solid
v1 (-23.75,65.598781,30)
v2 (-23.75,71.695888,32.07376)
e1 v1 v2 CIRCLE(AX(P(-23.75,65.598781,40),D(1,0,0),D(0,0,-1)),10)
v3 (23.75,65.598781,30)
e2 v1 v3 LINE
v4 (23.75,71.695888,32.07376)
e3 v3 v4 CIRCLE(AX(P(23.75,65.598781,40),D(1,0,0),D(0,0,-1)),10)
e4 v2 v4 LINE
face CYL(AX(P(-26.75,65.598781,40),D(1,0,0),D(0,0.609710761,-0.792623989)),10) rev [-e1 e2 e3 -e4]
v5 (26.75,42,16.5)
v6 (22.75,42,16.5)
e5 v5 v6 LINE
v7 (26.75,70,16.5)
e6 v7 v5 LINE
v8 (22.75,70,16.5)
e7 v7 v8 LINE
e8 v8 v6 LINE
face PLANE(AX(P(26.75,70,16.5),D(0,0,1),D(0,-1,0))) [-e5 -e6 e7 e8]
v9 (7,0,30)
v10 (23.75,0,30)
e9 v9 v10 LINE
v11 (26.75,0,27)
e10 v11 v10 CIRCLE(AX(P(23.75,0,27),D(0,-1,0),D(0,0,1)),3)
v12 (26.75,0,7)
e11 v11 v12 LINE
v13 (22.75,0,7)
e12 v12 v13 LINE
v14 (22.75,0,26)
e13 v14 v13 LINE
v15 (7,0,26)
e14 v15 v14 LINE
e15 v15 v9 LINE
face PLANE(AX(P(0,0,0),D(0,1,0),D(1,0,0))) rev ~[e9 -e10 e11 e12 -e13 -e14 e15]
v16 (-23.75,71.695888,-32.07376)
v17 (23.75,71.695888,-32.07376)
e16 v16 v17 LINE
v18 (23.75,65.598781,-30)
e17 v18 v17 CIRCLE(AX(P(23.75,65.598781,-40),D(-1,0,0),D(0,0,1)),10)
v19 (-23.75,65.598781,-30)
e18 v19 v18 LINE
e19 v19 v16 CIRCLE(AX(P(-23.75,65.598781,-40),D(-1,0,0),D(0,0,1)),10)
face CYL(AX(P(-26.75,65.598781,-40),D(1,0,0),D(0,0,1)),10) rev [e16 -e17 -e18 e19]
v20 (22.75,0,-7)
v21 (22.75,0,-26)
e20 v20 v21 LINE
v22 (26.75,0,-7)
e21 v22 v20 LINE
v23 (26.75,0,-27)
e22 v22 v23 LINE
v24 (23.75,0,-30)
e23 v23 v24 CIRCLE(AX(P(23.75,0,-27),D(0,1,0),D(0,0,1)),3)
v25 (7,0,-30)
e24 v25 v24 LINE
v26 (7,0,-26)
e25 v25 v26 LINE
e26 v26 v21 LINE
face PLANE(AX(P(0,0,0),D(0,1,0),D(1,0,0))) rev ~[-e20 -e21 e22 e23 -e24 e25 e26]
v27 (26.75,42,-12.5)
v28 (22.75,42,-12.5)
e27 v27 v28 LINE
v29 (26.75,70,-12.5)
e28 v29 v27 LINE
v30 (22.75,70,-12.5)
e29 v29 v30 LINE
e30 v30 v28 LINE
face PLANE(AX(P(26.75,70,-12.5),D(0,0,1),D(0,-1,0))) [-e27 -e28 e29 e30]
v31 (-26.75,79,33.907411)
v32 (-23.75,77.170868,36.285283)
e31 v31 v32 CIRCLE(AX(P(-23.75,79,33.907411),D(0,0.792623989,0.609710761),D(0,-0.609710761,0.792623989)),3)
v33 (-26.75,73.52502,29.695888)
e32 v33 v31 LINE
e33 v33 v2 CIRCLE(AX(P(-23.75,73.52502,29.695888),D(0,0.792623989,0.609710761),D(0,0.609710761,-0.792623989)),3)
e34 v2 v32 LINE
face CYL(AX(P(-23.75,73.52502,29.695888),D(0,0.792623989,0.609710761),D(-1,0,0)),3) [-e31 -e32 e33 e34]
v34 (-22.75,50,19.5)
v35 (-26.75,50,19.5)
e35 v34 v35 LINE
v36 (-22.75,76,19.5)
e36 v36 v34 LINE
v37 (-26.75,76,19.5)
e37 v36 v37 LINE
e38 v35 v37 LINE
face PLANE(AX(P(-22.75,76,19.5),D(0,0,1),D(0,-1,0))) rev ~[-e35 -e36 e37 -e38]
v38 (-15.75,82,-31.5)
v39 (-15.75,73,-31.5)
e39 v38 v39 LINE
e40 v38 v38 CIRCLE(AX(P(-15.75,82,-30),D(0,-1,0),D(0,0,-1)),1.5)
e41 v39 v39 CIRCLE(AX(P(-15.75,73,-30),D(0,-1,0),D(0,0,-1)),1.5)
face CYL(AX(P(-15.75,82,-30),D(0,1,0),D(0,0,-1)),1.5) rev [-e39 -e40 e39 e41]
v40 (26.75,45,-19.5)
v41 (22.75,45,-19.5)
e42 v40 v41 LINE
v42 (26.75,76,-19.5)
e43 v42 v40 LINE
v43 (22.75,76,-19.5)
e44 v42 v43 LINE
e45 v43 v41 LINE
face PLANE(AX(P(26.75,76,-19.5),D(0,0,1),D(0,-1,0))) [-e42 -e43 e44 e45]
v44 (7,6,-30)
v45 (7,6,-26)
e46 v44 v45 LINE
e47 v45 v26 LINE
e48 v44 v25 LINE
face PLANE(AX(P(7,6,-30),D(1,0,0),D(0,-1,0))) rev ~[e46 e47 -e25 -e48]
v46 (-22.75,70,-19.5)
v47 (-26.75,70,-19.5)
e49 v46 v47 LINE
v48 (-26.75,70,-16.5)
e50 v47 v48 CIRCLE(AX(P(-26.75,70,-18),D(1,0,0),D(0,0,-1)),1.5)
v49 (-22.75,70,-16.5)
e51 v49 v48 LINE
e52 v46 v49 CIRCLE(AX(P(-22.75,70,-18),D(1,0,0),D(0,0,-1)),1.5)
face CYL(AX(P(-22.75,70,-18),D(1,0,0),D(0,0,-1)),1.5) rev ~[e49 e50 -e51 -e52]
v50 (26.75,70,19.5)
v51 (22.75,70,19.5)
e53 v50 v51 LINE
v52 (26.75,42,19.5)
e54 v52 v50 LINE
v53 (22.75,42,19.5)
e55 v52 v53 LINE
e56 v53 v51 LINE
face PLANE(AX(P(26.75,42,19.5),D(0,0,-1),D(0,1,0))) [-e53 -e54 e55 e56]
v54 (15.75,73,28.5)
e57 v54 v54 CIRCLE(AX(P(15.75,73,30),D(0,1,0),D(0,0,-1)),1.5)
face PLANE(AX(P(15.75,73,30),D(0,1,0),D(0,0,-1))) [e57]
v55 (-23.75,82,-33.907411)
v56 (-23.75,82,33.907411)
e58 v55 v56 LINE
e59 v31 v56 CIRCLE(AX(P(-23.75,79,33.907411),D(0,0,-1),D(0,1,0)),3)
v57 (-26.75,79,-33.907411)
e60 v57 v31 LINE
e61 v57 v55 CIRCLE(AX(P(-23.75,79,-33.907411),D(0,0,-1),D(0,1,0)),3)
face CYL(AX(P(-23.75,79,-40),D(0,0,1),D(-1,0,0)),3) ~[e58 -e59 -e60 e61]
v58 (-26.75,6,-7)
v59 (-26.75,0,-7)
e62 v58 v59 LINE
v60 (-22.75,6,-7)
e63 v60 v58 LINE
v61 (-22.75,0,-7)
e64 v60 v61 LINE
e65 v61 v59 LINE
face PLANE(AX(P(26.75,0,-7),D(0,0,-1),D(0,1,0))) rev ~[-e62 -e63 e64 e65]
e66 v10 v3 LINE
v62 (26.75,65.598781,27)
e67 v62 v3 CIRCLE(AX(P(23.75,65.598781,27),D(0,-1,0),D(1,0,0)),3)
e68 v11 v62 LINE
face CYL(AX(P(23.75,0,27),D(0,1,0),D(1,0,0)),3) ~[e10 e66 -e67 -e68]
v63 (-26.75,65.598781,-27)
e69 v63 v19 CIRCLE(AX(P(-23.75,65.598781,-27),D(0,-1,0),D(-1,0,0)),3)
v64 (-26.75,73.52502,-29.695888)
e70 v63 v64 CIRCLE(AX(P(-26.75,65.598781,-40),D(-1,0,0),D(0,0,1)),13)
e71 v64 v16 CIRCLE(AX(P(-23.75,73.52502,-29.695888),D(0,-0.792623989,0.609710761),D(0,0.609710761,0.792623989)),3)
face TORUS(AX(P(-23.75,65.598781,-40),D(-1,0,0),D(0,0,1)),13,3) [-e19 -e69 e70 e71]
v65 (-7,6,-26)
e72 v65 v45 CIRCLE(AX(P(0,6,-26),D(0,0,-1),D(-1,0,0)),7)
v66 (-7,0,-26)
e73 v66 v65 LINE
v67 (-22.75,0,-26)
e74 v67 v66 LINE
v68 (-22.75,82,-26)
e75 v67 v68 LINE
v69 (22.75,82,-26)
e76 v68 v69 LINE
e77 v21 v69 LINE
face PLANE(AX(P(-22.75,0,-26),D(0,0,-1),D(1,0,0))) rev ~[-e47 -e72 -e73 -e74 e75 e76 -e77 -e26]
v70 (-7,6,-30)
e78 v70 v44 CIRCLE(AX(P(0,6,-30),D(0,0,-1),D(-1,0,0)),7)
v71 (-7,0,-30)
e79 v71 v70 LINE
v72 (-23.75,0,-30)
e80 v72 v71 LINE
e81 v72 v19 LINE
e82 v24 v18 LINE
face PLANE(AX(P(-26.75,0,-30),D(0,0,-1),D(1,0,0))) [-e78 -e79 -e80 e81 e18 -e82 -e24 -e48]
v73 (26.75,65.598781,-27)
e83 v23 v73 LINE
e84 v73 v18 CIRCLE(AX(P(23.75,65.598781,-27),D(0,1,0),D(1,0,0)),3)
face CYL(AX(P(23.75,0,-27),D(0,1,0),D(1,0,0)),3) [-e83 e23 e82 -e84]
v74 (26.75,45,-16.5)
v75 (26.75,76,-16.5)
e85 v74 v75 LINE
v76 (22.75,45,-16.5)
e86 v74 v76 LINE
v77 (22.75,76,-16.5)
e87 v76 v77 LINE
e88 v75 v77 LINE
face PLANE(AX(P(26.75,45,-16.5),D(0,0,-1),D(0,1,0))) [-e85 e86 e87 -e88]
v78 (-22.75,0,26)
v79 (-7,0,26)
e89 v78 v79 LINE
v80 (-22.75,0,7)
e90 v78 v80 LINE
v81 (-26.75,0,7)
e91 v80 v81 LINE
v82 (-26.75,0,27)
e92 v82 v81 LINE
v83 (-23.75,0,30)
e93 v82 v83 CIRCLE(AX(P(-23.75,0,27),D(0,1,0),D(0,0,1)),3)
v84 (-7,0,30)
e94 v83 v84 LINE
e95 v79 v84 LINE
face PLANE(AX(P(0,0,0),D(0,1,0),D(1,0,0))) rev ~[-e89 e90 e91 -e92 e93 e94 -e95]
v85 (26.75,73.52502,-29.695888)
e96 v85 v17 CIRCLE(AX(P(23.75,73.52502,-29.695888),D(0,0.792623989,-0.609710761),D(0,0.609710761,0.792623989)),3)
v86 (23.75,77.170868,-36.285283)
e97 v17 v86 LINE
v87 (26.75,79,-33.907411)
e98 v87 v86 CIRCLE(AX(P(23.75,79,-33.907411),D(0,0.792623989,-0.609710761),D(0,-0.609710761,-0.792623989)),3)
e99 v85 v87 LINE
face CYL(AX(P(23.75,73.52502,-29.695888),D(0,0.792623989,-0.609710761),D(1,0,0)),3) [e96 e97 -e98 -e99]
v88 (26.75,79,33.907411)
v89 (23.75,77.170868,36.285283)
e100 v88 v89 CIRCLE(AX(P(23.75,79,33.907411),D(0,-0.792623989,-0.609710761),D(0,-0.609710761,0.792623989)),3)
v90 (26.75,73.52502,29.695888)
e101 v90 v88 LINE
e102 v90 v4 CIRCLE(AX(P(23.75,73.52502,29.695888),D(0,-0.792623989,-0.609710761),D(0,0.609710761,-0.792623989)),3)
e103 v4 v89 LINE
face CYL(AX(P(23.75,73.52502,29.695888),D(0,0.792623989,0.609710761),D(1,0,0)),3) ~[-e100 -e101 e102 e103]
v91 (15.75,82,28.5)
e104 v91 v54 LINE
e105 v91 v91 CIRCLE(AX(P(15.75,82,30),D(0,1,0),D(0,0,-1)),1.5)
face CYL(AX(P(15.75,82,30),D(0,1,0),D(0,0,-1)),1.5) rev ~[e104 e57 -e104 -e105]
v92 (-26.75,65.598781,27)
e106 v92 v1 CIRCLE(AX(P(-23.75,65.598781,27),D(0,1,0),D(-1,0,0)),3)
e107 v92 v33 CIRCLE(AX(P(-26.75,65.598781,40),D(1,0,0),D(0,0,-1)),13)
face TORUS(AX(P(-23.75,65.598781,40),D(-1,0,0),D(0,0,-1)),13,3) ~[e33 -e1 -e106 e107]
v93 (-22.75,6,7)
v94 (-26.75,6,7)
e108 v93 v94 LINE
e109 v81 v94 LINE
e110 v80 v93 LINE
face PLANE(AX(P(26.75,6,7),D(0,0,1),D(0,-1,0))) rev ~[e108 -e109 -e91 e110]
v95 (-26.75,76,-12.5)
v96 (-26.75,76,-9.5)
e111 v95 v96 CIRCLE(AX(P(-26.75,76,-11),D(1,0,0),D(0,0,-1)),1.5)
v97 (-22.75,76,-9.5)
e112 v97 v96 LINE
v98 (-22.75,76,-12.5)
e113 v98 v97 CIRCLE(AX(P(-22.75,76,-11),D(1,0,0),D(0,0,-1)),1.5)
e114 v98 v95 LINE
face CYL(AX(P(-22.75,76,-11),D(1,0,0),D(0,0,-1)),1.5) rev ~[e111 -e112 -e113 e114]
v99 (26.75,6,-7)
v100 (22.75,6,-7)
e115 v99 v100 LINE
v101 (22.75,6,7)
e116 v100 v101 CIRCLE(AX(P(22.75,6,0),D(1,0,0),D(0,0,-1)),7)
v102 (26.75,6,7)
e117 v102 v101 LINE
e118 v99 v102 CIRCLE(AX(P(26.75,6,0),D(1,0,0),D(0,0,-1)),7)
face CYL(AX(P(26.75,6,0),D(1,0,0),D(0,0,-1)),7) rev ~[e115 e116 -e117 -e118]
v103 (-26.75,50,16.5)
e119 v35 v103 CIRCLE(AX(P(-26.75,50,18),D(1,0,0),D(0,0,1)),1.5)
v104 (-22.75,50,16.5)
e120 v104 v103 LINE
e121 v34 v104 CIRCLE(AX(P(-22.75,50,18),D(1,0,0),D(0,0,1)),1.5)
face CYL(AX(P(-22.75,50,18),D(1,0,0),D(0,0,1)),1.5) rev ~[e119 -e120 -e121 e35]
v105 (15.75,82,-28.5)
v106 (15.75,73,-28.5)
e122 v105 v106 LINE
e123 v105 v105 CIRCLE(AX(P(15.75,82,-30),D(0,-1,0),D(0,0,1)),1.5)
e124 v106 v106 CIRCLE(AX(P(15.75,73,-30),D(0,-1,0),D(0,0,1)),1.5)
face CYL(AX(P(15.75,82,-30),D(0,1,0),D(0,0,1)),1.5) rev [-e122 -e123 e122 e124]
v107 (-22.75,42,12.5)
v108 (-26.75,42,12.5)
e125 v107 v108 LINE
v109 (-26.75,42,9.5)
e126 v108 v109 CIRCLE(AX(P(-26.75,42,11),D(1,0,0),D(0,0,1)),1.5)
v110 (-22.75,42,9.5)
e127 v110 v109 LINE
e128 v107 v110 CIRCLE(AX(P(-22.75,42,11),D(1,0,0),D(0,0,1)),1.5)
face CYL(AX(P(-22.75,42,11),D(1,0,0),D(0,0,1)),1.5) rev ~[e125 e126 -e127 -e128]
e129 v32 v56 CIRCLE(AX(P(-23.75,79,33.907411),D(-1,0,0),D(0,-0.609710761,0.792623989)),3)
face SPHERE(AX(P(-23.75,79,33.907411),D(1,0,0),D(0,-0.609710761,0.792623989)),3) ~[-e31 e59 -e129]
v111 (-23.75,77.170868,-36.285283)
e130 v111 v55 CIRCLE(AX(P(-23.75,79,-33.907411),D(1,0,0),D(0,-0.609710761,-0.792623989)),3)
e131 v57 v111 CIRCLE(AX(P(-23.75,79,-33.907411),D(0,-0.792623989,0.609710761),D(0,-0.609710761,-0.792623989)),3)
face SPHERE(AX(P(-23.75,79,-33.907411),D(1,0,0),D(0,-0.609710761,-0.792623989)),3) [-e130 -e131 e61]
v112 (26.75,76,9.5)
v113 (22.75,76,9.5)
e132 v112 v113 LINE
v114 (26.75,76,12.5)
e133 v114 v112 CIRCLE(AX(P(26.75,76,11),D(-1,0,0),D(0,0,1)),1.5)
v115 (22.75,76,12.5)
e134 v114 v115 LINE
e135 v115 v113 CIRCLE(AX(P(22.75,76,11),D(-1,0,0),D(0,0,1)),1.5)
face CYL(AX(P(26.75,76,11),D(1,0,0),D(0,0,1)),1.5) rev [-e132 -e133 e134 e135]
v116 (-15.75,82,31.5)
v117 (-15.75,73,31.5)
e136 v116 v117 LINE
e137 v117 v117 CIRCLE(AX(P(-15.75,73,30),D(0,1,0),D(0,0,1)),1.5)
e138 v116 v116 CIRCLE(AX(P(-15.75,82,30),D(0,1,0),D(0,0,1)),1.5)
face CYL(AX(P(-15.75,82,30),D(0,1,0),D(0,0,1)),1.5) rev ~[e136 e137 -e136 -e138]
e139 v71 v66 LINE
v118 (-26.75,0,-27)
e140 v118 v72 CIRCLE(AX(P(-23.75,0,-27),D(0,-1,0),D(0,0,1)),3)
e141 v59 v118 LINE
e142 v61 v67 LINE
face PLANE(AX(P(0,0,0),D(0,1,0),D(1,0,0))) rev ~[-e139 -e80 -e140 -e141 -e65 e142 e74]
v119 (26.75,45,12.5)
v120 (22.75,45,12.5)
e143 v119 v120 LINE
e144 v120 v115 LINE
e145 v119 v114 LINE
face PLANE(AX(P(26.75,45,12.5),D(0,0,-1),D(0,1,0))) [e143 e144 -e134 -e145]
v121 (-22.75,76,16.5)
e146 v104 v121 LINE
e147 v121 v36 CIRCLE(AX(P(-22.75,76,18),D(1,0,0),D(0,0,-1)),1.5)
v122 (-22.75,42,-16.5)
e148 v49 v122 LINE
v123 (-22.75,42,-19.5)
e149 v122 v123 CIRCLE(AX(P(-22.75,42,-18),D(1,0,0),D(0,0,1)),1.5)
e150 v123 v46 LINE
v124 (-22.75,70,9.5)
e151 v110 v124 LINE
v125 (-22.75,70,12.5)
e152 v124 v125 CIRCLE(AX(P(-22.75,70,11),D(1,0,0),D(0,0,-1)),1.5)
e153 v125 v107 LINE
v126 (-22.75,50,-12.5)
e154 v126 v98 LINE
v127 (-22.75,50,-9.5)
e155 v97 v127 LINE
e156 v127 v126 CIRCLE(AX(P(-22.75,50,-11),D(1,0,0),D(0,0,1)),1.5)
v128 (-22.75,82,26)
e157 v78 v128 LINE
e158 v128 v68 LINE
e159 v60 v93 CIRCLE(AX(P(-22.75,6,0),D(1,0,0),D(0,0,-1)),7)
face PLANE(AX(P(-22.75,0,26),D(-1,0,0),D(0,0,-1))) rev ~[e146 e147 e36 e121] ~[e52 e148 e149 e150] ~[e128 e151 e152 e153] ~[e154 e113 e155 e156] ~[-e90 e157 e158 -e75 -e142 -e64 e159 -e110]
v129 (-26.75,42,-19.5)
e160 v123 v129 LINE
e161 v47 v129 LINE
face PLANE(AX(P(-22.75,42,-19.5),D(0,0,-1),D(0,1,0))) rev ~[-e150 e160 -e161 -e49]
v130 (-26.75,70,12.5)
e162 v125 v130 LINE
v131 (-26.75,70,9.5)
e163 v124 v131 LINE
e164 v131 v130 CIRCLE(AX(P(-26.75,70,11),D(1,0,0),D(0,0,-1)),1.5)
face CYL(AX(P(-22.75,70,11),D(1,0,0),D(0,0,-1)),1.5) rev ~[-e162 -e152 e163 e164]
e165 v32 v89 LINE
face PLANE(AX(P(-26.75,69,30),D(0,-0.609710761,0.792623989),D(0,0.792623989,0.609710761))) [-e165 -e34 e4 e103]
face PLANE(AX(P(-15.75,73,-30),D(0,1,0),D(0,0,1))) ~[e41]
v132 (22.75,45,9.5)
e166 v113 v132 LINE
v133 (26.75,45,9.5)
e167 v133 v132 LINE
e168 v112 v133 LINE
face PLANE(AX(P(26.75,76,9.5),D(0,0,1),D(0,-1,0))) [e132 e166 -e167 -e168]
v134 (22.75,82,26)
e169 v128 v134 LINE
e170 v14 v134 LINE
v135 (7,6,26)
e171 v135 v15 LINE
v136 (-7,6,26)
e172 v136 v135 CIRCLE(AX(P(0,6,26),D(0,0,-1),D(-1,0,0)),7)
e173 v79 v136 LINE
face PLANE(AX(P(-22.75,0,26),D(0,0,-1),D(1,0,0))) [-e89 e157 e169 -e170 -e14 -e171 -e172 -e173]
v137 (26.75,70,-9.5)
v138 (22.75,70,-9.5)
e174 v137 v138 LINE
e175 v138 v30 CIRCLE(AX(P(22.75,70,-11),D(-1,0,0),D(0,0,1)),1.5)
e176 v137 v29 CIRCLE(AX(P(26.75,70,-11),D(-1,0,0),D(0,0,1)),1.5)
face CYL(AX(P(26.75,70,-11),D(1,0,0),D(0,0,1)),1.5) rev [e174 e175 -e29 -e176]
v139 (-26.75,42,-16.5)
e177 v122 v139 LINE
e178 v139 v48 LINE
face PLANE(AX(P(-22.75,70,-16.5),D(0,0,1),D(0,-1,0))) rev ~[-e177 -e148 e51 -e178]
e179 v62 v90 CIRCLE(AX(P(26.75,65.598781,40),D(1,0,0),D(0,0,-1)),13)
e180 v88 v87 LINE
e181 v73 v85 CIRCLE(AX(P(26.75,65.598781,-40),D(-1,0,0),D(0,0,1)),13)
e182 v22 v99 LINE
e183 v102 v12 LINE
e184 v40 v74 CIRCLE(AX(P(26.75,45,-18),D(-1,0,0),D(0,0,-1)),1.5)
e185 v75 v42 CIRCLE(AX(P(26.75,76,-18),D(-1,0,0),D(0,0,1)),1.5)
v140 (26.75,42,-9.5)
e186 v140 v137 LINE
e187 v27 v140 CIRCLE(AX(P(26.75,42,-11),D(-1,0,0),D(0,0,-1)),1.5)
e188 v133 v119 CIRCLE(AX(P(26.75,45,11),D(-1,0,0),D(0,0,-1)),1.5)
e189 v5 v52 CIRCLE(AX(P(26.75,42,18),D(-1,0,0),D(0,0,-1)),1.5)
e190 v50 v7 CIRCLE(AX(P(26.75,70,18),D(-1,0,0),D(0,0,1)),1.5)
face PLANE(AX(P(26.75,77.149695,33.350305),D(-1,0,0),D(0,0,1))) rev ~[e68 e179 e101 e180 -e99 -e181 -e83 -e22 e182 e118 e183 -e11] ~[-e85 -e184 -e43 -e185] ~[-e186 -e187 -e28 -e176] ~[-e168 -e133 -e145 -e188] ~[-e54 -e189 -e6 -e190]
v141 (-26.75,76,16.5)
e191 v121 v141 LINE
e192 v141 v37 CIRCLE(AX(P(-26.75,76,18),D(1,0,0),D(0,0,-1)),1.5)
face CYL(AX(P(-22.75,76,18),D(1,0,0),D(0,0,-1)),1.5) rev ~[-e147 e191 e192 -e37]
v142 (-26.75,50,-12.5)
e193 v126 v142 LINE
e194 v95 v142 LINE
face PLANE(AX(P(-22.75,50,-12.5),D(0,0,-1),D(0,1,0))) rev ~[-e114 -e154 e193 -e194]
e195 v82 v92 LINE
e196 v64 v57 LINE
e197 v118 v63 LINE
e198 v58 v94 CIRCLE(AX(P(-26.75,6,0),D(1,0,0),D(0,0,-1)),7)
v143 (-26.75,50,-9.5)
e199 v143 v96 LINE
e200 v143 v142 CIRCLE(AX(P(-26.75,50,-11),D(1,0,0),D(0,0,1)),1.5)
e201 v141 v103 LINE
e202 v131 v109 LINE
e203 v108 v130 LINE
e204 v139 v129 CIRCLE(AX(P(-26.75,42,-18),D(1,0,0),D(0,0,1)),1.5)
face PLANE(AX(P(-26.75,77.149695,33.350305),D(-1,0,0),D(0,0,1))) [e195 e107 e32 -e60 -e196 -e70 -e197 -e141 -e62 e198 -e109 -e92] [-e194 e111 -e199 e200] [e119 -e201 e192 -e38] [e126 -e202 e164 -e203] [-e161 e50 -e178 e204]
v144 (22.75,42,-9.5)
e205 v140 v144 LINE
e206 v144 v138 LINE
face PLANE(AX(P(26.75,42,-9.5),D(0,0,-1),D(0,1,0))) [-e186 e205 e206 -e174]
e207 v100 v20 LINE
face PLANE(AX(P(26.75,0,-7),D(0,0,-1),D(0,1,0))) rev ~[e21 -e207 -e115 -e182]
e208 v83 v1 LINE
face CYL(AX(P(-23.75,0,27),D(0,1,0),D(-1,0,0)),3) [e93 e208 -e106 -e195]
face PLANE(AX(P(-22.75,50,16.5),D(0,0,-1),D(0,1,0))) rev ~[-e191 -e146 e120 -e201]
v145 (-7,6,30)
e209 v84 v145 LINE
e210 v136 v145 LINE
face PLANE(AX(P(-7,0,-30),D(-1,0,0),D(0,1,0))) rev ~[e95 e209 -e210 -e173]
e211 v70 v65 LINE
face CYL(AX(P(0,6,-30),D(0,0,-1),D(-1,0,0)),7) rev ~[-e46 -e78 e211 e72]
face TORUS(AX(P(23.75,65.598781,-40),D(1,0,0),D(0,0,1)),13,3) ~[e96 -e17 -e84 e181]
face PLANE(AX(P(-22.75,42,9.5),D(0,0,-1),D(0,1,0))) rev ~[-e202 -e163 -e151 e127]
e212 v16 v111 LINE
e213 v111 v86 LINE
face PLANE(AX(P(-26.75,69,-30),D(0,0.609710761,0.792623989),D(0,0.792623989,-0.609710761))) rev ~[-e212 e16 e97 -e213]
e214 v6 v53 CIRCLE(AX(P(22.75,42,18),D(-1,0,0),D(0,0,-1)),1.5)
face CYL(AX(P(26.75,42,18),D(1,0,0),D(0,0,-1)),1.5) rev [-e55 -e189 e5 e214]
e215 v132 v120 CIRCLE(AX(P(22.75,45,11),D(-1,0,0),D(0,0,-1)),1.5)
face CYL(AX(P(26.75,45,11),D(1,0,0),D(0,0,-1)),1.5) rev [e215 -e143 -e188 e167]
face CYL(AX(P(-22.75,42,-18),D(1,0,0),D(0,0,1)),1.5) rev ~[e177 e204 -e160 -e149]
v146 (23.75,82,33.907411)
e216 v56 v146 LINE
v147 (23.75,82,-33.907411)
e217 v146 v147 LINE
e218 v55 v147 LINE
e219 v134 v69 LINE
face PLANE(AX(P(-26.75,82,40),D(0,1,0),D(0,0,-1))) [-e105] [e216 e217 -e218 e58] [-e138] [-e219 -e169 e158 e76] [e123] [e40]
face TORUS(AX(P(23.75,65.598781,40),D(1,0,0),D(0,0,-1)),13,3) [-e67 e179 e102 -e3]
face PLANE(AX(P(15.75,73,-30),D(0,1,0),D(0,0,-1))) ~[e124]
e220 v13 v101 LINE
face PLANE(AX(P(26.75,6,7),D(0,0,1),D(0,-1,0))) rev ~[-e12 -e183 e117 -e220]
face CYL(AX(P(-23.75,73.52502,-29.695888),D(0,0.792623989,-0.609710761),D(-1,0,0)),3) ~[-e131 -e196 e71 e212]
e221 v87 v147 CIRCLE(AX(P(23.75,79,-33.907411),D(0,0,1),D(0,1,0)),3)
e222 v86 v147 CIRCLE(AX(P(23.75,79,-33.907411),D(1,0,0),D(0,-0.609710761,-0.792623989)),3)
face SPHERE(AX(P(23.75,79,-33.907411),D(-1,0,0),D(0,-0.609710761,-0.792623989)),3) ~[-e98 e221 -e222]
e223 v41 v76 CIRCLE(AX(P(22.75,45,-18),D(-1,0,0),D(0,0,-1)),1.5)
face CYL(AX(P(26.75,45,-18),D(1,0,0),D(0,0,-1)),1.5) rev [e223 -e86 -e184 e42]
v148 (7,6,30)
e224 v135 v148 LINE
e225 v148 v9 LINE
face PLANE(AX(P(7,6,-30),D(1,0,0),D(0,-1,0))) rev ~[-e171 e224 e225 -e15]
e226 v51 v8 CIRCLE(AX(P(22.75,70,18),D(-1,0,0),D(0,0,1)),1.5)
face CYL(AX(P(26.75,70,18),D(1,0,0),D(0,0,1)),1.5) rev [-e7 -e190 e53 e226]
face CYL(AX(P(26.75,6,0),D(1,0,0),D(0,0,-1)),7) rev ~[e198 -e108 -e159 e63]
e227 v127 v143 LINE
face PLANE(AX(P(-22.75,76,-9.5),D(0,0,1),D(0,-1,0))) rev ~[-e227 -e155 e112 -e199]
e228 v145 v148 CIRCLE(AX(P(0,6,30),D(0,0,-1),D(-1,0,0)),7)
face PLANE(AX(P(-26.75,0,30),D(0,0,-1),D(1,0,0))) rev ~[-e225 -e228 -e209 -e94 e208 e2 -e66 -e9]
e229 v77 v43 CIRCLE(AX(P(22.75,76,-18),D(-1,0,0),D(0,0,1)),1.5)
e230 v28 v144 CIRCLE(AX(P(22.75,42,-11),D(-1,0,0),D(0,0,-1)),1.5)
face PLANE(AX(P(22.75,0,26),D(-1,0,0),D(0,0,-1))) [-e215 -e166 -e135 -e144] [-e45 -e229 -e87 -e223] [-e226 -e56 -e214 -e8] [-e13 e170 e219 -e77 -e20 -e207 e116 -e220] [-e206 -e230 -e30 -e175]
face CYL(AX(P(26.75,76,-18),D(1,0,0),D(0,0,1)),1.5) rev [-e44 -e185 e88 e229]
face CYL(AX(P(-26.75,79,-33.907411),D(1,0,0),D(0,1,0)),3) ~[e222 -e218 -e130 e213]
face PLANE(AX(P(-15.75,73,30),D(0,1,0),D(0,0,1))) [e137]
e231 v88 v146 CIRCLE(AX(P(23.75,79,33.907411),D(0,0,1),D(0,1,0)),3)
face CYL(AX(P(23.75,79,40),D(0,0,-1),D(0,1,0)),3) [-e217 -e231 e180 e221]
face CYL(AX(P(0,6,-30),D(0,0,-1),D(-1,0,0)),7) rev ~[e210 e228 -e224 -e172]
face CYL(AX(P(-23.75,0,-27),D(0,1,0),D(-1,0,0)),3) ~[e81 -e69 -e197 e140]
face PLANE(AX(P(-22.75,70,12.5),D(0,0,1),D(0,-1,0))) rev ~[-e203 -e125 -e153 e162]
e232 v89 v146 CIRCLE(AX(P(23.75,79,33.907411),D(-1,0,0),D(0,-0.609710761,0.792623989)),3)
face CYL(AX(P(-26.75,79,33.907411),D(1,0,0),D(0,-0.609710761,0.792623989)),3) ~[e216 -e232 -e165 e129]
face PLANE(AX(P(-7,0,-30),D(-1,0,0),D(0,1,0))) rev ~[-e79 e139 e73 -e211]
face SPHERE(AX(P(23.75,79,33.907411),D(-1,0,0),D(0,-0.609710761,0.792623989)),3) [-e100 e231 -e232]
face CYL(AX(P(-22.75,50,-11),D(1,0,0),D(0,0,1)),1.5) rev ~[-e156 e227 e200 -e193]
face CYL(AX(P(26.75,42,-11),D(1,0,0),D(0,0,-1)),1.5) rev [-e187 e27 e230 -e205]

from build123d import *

# Parameters (mm, degrees)
SKETCH1_W           = 53.5
SKETCH1_H           = 60
SKETCH1_W_2         = 45.5
SKETCH1_H_2         = 52
BOSS_EXTRUDE1_DEPTH = 82
CUT_EXTRUDE1_START  = -4
CUT_EXTRUDE1_DEPTH  = 107.40239255
LPATTERN1_COUNT     = 2
LPATTERN1_PITCH     = 29
CUT_EXTRUDE2_DEPTH  = 4
LPATTERN2_COUNT     = 2
LPATTERN2_PITCH     = 29
BOSS_EXTRUDE2_DEPTH = 53.5
FILLET1_R           = 10
FILLET2_R           = 3
SKETCH6_R           = 1.5
CUT_EXTRUDE3_DEPTH  = 9
CUT_EXTRUDE4_DEPTH  = 105.634635656
CUT_EXTRUDE5_DEPTH  = 110.161184183


with BuildPart() as part:
    # Sketch1 → Boss-Extrude1 (new body)
    with BuildSketch(Plane(origin=(0, 0, 0), x_dir=(1, 0, 0), z_dir=(0, 1, 0))):
        Rectangle(SKETCH1_W, SKETCH1_H)
        Rectangle(SKETCH1_W_2, SKETCH1_H_2, mode=Mode.SUBTRACT)
    extrude(amount=BOSS_EXTRUDE1_DEPTH)

    # Sketch3 → Cut-Extrude1 (cut)
    with BuildSketch(Plane.ZY.offset(26.75).offset(CUT_EXTRUDE1_START)):
        with BuildLine():
            Line((19.5, 76), (19.5, 50))
            ThreePointArc((19.5, 50), (18, 48.5), (16.5, 50))
            Line((16.5, 50), (16.5, 76))
            ThreePointArc((16.5, 76), (18, 77.5), (19.5, 76))
        make_face()
        with BuildLine():
            Line((12.5, 70), (12.5, 42))
            ThreePointArc((12.5, 42), (11, 40.5), (9.5, 42))
            Line((9.5, 42), (9.5, 70))
            ThreePointArc((9.5, 70), (11, 71.5), (12.5, 70))
        make_face()
    cut_extrude1 = extrude(amount=CUT_EXTRUDE1_DEPTH, mode=Mode.SUBTRACT)

    # LPattern1: Cut-Extrude1 ×2
    with Locations(*[(0, 0, -i * LPATTERN1_PITCH) for i in range(1, LPATTERN1_COUNT)]):
        add(cut_extrude1, mode=Mode.SUBTRACT)

    # Sketch4 → Cut-Extrude2 (cut)
    with BuildSketch(Plane(origin=(26.75, 0, 0), x_dir=(0, 0, -1), z_dir=(1, 0, 0))):
        with BuildLine():
            Line((-9.5, 76), (-9.5, 45))
            ThreePointArc((-9.5, 45), (-11, 43.5), (-12.5, 45))
            Line((-12.5, 45), (-12.5, 76))
            ThreePointArc((-12.5, 76), (-11, 77.5), (-9.5, 76))
        make_face()
        with BuildLine():
            Line((-16.5, 70), (-16.5, 42))
            ThreePointArc((-16.5, 42), (-18, 40.5), (-19.5, 42))
            Line((-19.5, 42), (-19.5, 70))
            ThreePointArc((-19.5, 70), (-18, 71.5), (-16.5, 70))
        make_face()
    cut_extrude2 = extrude(amount=-CUT_EXTRUDE2_DEPTH, mode=Mode.SUBTRACT)

    # LPattern2: Cut-Extrude2 ×2
    with Locations(*[(0, 0, -i * LPATTERN2_PITCH) for i in range(1, LPATTERN2_COUNT)]):
        add(cut_extrude2, mode=Mode.SUBTRACT)

    # Sketch5 → Boss-Extrude2 (add, through all)
    with BuildSketch(Plane.ZY.offset(26.75)):
        Polygon((30, 82), (30, 69), (40, 82), align=None)
        Polygon((-30, 82), (-30, 69), (-40, 82), align=None)
    extrude(amount=-BOSS_EXTRUDE2_DEPTH)

    # Fillet1
    fillet1_edges = [part.edges().sort_by_distance(p)[0] for p in [
        (0, 69, 30),
        (0, 69, -30),
    ]]
    fillet(fillet1_edges, radius=FILLET1_R)

    # Fillet2
    fillet2_edges = [part.edges().sort_by_distance(p)[0] for p in [
        (-26.75, 82, 0),
        (0, 82, 40),
        (0, 82, -40),
        (26.75, 76.847944071, -36.036880054),
        (-26.75, 76.847944071, -36.036880054),
        (26.75, 32.799390267, 30),
        (-26.75, 32.799390267, 30),
        (-26.75, 76.847944071, 36.036880054),
        (26.75, 76.847944071, 36.036880054),
        (26.75, 32.799390267, -30),
        (-26.75, 32.799390267, -30),
        (-26.75, 68.818842729, 30.532624468),
        (26.75, 68.818842729, 30.532624468),
        (-26.75, 68.818842729, -30.532624468),
        (26.75, 68.818842729, -30.532624468),
        (26.75, 82, 0),
    ]]
    fillet(fillet2_edges, radius=FILLET2_R)

    # Sketch6 → Cut-Extrude3 (cut)
    with BuildSketch(Plane(origin=(0, 82, 0), x_dir=(1, 0, 0), z_dir=(0, 1, 0))):
        with Locations(Location((-15.75, -30, 0), (0, 0, 270))):
            Circle(SKETCH6_R)
        with Locations(Location((15.75, -30, 0), (0, 0, 90))):
            Circle(SKETCH6_R)
    cut_extrude3 = extrude(amount=-CUT_EXTRUDE3_DEPTH, mode=Mode.SUBTRACT)

    # Mirror1: Cut-Extrude3 across plane
    add(cut_extrude3.mirror(Plane.XY), mode=Mode.SUBTRACT)

    # Sketch7 → Cut-Extrude4 (cut, through all)
    with BuildSketch(Plane(origin=(26.75, 0, 0), x_dir=(0, 0, -1), z_dir=(1, 0, 0))):
        with BuildLine():
            Line((7, 0), (7, 6))
            ThreePointArc((7, 6), (0, 13), (-7, 6))
            Line((-7, 6), (-7, 0))
            Line((-7, 0), (7, 0))
        make_face()
    extrude(amount=-CUT_EXTRUDE4_DEPTH, mode=Mode.SUBTRACT)

    # Sketch8 → Cut-Extrude5 (cut, through all)
    with BuildSketch(Plane(origin=(0, 0, -30), x_dir=(-1, 0, 0), z_dir=(0, 0, -1))):
        with BuildLine():
            Line((7, 0), (7, 6))
            ThreePointArc((7, 6), (0, 13), (-7, 6))
            Line((-7, 6), (-7, 0))
            Line((-7, 0), (7, 0))
        make_face()
    extrude(amount=-CUT_EXTRUDE5_DEPTH, mode=Mode.SUBTRACT)


solid = part.part
